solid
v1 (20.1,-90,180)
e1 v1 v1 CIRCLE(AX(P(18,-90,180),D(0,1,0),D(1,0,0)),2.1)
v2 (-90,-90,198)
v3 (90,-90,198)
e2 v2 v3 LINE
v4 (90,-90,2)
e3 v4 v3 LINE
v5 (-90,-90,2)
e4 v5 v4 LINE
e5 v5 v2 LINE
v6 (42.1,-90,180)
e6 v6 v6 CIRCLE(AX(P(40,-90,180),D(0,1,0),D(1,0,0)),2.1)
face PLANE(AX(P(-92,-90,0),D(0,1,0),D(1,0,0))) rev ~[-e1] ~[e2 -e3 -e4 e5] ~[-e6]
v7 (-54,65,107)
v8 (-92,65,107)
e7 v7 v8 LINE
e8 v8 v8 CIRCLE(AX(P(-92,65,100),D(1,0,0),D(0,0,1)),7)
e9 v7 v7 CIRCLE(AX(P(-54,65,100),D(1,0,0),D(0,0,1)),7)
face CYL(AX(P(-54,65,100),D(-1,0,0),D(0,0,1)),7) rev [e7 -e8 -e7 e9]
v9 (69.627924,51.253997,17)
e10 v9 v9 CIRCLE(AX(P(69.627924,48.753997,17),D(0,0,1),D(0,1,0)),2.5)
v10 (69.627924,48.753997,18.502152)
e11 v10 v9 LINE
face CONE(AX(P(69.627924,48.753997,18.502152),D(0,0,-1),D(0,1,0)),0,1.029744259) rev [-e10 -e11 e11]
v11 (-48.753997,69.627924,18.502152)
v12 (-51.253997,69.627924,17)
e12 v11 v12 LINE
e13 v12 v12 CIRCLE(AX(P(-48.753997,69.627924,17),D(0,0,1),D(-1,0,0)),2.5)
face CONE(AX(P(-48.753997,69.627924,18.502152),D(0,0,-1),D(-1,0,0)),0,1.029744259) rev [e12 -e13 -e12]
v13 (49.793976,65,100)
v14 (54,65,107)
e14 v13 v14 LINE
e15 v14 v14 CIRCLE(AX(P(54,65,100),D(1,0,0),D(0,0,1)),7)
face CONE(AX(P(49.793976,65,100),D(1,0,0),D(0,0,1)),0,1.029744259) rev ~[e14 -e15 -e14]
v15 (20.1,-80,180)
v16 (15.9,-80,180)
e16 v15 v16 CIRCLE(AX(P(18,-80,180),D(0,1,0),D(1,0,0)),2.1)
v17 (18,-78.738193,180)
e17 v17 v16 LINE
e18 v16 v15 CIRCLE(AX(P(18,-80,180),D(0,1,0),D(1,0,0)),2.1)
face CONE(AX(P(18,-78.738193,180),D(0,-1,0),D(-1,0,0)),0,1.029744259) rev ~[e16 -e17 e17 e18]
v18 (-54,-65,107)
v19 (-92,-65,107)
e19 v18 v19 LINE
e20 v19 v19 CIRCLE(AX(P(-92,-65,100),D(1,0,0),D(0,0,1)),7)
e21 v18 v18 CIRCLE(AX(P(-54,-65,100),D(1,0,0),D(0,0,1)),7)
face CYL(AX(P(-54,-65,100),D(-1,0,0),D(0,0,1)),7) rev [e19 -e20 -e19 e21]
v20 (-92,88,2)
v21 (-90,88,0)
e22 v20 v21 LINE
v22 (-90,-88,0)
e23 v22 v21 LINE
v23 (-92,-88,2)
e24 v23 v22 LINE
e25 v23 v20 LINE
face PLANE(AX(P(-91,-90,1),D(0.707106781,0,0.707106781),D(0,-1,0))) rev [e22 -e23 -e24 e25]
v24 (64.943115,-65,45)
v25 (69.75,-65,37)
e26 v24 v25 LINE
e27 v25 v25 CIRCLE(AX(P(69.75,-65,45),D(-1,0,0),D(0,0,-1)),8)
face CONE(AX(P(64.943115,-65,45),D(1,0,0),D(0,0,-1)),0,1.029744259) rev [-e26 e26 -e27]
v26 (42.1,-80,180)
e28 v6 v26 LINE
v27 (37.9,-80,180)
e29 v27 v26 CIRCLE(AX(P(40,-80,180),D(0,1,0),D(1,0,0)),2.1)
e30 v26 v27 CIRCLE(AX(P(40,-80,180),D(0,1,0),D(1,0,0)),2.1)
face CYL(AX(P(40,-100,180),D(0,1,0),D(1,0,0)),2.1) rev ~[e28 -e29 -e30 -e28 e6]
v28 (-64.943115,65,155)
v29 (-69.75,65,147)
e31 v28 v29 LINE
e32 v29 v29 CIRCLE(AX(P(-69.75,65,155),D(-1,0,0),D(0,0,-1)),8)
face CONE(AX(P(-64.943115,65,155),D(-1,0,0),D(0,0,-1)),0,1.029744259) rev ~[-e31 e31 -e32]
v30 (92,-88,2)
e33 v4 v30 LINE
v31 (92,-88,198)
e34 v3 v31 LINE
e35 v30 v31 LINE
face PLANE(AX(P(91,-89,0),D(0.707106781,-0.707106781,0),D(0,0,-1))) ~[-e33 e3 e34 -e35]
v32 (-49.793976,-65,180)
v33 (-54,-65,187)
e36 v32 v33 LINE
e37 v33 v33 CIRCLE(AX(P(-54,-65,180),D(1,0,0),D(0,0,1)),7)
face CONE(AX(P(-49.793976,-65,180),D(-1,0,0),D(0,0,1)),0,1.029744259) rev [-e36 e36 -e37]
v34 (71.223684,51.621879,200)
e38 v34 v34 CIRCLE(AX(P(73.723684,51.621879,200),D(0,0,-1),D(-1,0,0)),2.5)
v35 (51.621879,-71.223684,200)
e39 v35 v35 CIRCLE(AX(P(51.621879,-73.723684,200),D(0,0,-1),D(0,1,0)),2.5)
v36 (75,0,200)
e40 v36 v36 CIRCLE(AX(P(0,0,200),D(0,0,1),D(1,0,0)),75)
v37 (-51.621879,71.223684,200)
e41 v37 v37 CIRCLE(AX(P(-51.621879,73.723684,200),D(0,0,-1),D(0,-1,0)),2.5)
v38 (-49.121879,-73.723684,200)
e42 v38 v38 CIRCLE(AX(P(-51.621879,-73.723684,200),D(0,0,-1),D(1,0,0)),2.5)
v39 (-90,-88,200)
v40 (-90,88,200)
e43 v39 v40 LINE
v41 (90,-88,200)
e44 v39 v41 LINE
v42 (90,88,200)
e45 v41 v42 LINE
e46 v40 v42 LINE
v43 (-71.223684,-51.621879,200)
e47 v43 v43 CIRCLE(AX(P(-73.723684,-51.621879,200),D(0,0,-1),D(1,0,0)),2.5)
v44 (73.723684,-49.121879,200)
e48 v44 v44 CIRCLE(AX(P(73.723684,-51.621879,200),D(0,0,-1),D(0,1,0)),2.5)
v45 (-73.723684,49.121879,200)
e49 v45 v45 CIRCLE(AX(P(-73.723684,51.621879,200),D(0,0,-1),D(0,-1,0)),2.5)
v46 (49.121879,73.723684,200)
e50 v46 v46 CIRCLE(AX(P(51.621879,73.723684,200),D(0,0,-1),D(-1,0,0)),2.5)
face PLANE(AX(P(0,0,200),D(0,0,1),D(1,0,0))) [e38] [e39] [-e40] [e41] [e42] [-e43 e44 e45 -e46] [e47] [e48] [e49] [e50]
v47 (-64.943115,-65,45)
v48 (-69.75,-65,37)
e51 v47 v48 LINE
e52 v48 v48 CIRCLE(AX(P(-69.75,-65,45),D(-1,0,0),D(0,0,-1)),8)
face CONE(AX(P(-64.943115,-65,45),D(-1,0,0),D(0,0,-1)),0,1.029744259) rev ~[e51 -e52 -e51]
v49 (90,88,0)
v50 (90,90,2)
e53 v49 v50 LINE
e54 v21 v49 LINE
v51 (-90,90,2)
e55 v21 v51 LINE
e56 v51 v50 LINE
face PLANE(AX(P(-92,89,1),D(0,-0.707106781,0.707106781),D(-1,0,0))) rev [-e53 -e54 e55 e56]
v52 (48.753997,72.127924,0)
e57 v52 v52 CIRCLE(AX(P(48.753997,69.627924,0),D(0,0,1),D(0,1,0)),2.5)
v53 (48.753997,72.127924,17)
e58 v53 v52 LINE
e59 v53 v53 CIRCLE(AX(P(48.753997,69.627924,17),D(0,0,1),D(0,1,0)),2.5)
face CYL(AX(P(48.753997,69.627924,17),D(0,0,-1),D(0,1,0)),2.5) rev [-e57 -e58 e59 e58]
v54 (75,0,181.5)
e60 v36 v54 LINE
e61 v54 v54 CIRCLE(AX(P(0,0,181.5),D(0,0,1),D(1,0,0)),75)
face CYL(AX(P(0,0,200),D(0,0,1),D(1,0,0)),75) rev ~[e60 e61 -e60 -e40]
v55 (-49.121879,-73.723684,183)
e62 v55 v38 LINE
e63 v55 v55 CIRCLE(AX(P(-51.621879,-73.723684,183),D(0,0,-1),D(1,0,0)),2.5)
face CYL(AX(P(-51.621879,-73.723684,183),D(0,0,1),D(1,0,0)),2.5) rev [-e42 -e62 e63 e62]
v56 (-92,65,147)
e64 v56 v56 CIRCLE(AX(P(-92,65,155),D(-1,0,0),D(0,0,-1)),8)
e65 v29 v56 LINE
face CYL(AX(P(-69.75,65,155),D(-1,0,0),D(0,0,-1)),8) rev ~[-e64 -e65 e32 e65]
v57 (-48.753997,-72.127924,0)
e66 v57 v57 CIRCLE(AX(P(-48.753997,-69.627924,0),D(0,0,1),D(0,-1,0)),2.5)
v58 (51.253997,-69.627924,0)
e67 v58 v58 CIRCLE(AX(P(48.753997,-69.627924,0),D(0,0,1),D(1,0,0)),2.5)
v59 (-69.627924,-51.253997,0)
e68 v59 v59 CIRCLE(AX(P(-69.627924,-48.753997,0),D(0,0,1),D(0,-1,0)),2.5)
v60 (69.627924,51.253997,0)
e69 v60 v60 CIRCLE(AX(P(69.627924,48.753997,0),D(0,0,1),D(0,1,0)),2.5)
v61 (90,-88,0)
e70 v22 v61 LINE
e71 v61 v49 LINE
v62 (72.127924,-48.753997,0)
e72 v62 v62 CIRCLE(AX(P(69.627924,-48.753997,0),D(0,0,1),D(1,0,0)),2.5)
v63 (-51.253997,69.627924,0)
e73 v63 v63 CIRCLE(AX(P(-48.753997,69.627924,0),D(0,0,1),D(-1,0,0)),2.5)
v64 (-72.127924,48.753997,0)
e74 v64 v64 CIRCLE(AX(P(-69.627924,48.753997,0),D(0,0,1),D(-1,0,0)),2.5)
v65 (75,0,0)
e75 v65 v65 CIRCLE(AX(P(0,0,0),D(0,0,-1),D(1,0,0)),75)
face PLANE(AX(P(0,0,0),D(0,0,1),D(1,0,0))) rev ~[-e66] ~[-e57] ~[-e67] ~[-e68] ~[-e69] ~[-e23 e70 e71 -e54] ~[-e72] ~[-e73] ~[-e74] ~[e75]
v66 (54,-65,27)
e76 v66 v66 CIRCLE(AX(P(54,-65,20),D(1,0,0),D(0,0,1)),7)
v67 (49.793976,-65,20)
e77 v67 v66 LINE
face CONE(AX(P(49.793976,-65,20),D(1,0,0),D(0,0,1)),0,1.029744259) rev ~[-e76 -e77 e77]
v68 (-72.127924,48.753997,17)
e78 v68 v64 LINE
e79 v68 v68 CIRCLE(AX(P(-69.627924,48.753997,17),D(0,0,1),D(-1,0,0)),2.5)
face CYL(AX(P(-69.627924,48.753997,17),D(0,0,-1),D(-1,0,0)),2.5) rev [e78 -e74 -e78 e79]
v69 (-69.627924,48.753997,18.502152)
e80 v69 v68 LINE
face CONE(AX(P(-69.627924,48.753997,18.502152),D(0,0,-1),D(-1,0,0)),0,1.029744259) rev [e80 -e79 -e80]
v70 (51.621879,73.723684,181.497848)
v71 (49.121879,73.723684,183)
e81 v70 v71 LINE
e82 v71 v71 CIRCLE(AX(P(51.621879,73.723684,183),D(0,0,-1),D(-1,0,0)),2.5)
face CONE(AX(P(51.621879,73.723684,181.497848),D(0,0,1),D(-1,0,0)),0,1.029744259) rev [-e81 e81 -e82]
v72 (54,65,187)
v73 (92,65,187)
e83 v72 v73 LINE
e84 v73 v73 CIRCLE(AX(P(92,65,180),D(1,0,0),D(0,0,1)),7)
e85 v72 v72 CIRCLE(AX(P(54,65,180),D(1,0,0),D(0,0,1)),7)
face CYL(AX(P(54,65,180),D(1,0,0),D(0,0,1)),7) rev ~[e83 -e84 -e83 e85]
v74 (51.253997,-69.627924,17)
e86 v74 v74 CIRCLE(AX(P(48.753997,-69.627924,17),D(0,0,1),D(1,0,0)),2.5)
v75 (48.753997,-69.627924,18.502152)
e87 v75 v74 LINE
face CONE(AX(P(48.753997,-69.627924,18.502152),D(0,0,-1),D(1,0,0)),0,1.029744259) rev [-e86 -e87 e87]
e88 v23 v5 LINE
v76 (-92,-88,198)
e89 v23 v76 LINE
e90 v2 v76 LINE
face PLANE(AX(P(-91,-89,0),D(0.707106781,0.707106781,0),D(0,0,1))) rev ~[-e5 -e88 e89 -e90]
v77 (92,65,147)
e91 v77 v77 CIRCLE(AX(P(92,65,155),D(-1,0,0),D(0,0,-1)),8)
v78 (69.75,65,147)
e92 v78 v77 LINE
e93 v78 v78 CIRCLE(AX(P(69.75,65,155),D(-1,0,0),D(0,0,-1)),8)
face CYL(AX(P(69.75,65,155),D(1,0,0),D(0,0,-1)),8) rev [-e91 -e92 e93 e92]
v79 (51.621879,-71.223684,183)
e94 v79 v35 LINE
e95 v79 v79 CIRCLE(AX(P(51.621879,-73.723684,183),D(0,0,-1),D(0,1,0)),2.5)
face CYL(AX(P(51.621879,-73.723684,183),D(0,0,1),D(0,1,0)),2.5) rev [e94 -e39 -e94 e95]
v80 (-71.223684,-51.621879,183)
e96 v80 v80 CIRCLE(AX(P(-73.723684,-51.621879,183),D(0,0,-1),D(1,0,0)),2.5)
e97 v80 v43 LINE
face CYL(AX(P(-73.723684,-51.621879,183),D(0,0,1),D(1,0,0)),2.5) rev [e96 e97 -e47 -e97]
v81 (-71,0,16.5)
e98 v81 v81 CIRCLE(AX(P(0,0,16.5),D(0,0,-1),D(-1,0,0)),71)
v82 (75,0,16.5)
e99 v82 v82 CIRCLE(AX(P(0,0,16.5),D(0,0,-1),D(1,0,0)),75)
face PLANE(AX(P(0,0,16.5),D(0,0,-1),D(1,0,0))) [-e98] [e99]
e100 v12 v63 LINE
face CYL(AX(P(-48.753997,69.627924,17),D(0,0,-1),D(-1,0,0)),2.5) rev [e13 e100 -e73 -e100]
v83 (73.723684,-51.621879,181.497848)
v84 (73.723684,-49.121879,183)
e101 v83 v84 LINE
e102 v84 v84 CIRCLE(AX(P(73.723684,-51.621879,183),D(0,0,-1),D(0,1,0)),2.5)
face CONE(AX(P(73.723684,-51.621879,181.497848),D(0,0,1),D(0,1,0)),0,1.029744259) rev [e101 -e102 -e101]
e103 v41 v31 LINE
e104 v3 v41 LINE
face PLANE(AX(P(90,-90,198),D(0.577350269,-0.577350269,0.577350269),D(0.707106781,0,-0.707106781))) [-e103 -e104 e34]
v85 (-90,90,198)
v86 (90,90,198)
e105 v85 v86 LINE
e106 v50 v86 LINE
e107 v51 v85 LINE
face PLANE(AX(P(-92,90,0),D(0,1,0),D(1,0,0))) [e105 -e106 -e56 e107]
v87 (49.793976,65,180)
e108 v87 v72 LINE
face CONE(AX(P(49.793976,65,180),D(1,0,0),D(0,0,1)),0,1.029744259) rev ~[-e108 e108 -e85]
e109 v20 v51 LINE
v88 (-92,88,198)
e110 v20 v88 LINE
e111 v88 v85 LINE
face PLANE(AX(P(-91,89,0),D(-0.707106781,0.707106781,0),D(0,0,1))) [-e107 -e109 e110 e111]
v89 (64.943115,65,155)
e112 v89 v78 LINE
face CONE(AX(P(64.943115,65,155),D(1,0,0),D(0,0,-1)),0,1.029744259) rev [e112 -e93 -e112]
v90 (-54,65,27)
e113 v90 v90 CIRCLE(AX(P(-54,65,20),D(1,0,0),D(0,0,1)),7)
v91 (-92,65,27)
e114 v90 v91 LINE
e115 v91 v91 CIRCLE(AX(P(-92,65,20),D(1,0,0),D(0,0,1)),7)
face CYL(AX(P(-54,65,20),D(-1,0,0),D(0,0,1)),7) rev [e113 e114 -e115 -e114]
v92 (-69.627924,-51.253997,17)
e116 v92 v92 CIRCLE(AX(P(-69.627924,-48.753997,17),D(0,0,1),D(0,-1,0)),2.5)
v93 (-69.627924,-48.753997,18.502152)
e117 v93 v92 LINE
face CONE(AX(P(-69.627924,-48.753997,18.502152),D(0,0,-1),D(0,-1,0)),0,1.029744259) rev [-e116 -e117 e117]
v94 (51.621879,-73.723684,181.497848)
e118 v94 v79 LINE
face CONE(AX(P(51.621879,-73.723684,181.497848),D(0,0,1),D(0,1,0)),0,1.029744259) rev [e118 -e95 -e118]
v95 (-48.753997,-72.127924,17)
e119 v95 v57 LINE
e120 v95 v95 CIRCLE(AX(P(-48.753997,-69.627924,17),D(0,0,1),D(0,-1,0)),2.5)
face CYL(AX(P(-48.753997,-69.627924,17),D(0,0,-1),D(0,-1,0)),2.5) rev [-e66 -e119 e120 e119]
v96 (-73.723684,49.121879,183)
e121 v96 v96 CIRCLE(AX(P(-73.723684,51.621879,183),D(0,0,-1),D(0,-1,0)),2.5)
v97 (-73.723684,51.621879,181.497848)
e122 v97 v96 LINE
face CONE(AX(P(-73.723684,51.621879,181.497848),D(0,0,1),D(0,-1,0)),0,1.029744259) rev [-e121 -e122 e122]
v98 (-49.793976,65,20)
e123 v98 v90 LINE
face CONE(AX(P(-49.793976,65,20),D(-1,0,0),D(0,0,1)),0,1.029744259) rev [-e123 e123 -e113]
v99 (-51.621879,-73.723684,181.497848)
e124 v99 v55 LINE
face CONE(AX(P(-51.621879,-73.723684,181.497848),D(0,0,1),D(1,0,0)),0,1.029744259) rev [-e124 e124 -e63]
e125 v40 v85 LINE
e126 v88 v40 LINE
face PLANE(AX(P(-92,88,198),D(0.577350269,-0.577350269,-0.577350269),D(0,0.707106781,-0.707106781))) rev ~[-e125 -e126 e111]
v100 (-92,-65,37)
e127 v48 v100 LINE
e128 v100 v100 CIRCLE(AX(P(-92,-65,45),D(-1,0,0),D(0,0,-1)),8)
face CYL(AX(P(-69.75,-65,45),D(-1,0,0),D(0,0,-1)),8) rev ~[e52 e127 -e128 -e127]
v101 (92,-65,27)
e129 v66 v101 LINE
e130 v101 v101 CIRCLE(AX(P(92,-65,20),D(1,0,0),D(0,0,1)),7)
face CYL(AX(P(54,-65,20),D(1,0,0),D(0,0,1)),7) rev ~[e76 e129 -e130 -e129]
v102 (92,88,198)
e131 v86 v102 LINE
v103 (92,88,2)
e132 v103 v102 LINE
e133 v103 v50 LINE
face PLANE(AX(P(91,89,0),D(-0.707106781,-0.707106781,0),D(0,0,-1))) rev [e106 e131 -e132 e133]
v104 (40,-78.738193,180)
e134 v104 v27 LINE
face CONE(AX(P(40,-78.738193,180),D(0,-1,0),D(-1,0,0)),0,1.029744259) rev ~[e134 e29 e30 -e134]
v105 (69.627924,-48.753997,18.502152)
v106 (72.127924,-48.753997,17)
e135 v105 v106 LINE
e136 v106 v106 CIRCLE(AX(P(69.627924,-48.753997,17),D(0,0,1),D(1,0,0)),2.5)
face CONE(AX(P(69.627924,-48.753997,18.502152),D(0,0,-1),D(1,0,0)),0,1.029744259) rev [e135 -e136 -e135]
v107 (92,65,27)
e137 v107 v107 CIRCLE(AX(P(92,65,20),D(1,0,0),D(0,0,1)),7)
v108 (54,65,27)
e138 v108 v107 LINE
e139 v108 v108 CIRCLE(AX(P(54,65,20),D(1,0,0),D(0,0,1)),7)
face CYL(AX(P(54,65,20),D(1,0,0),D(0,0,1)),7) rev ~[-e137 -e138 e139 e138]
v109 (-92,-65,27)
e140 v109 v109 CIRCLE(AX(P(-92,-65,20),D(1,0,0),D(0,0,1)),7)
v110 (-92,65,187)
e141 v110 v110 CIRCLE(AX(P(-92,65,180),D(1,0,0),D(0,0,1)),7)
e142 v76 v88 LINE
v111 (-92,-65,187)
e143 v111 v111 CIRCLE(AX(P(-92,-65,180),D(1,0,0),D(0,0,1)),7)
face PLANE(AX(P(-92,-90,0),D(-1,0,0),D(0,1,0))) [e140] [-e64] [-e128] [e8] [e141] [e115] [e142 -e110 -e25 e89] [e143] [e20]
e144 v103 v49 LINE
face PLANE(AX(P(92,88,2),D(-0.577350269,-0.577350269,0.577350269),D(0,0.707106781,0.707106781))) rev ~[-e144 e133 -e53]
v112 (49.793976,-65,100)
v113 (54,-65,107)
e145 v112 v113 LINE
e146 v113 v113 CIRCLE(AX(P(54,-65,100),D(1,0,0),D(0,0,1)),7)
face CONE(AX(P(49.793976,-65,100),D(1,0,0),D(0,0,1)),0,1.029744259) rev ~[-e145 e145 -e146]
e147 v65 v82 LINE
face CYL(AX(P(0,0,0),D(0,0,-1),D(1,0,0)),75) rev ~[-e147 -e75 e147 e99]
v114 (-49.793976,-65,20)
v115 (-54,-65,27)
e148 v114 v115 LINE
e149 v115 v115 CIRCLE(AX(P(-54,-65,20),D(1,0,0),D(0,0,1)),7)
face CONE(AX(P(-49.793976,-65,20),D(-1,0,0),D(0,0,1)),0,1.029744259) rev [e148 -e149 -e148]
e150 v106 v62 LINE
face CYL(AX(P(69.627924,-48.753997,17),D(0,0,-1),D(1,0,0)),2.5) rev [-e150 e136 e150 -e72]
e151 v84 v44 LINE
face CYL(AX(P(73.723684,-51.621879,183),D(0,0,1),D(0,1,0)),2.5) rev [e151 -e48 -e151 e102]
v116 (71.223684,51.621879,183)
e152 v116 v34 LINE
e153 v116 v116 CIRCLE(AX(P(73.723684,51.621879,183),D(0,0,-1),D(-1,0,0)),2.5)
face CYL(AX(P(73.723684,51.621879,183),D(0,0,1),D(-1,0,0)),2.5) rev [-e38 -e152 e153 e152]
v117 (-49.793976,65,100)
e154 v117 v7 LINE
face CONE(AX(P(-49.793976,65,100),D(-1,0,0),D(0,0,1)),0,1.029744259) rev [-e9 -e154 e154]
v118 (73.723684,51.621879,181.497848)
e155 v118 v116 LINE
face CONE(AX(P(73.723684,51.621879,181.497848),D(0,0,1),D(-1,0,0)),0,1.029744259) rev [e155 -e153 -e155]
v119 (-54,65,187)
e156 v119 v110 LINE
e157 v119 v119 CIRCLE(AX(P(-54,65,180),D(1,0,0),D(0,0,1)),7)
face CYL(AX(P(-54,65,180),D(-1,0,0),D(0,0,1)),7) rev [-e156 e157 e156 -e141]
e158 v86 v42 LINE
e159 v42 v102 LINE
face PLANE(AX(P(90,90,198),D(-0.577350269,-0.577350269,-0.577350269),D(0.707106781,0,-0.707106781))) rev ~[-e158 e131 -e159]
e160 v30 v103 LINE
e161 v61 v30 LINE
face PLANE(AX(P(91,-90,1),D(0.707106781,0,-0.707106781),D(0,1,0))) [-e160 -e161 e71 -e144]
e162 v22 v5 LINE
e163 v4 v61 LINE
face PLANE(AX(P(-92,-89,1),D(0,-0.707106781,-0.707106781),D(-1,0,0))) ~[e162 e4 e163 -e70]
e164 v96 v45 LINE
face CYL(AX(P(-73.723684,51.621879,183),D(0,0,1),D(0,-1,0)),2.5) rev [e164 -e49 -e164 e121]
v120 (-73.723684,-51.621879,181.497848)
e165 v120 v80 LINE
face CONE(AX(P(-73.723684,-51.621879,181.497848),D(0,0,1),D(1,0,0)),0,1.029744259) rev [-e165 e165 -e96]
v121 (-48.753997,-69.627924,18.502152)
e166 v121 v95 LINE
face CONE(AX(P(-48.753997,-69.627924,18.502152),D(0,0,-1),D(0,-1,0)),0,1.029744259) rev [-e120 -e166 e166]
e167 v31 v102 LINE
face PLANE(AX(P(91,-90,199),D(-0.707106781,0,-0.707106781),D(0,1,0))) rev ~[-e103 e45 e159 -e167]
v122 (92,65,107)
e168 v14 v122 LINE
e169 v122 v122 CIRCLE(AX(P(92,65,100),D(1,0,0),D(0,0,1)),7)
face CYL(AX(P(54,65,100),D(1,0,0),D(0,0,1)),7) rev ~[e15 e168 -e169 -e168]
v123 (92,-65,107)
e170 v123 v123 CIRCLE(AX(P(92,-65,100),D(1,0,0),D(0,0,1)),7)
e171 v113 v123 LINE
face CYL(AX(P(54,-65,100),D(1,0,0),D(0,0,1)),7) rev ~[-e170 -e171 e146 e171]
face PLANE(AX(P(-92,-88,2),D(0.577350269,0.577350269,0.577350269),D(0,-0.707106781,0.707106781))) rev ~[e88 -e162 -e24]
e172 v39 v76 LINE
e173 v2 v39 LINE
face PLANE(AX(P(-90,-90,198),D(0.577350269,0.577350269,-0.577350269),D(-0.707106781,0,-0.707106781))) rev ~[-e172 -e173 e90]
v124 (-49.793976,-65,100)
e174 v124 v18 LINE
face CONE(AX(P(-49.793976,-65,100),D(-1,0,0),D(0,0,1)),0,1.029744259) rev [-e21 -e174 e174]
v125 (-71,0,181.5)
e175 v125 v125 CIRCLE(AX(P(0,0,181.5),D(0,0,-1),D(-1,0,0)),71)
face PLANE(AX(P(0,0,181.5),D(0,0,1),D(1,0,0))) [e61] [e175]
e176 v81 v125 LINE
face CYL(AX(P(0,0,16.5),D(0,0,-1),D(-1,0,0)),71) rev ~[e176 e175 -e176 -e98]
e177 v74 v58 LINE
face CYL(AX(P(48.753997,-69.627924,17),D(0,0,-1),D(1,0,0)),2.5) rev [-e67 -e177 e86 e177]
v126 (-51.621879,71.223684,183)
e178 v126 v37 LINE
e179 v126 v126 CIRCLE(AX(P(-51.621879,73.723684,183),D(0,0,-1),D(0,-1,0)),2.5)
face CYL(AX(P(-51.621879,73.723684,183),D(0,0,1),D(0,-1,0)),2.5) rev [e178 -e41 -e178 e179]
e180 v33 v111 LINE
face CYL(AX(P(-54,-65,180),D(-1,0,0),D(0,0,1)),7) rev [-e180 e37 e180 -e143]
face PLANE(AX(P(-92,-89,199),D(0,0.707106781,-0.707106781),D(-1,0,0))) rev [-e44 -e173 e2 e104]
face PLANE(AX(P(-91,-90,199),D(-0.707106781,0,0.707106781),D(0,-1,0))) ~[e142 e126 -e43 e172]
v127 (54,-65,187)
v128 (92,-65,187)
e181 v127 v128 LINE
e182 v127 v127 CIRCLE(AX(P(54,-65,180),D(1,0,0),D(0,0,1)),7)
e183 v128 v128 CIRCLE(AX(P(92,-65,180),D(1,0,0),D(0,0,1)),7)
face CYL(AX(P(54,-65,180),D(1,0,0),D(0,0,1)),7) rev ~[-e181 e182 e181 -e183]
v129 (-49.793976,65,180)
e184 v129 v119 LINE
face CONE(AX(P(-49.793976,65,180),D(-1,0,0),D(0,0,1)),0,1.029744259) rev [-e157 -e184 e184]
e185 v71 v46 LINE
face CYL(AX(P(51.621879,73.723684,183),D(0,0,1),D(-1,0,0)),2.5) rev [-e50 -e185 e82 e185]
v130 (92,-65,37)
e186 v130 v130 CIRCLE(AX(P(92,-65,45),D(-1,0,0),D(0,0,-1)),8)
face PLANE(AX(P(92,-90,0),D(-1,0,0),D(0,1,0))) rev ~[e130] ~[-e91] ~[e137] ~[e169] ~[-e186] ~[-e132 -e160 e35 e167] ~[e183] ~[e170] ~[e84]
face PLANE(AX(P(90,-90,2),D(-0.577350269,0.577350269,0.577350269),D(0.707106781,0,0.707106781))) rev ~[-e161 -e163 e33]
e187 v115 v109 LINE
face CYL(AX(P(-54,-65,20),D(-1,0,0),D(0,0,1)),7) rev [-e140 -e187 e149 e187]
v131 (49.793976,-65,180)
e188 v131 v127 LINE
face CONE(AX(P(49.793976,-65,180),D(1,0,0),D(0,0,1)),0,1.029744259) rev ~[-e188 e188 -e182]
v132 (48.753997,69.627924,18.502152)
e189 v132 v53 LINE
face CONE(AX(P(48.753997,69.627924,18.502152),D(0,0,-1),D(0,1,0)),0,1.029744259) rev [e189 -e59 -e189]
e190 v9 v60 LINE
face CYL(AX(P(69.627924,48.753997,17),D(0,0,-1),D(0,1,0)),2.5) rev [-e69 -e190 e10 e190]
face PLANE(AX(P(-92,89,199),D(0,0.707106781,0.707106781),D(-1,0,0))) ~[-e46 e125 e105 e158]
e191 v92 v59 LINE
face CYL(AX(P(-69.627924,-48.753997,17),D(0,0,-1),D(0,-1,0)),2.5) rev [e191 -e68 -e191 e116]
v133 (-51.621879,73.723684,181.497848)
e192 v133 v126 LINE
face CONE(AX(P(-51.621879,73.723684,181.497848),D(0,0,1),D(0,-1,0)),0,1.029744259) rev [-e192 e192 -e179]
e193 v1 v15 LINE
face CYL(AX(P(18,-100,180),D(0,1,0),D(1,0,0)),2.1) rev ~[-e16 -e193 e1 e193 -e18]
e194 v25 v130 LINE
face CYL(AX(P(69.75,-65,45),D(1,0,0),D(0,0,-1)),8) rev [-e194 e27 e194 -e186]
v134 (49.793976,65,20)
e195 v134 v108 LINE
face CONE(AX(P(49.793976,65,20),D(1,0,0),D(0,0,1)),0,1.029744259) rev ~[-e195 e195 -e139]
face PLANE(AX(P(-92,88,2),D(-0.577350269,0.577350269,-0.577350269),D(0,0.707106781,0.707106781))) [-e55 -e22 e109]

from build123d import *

# Parameters (mm, degrees)
SKIZZE1_W                                 = 184
SKIZZE1_H                                 = 180
EXTRUSION1_DEPTH                          = 200
SKIZZE2_R                                 = 75
EXTRUSION2_DEPTH                          = 18.5
SKIZZE3_R                                 = 75
EXTRUSION3_DEPTH                          = 16.5
M6_GEWINDEBOHRUNG1_AT_2_COUNT             = 2
M6_GEWINDEBOHRUNG1_AT_2_PITCH             = 29.520190203
SKIZZE6_R                                 = 71
EXTRUSION4_DEPTH                          = 180
FASE1_SIZE                                = 2
LINEARES_MUSTER111_COUNT                  = 3
LINEARES_MUSTER111_PITCH                  = 80
LINEARES_MUSTER111_COUNT_DIR2             = 2
LINEARES_MUSTER111_PITCH_DIR2             = 130
KREISMUSTER1_COUNT                        = 4
M6_GEWINDEBOHRUNG2_AT_2_COUNT             = 2
M6_GEWINDEBOHRUNG2_AT_2_PITCH             = 31.25667198
KREISMUSTER2_COUNT                        = 4
F_16_0_16_DURCHMESSER_BOHRUNG1_AT_2_COUNT = 2
F_16_0_16_DURCHMESSER_BOHRUNG1_AT_2_PITCH = 170.293863659
M5_GEWINDEBOHRUNG1_D                      = 4.2
M5_GEWINDEBOHRUNG1_DEPTH                  = 10
M5_GEWINDEBOHRUNG1_TIP                    = 1.2618073


with BuildPart() as part:
    # Skizze1 → Extrusion1 (new body)
    with BuildSketch(Plane.XY):
        Rectangle(SKIZZE1_W, SKIZZE1_H)
    extrude(amount=EXTRUSION1_DEPTH)

    # Skizze2 → Extrusion2 (cut)
    with BuildSketch(Plane.XY.offset(200)):
        Circle(SKIZZE2_R)
    extrude(amount=-EXTRUSION2_DEPTH, mode=Mode.SUBTRACT)

    # Skizze3 → Extrusion3 (cut)
    with BuildSketch(Plane(origin=(0, 0, 0), x_dir=(-1, 0, 0), z_dir=(0, 0, -1))):
        with Locations(Location((0, 0, 0), (0, 0, 180))):  # turned: the seam where the file's is
            Circle(SKIZZE3_R)
    extrude(amount=-EXTRUSION3_DEPTH, mode=Mode.SUBTRACT)

    # Skizze10 → M6 Gewindebohrung1 (revolve, cut)
    with BuildSketch(Plane(origin=(69.627923765, 48.75399709, 0), x_dir=(0, 1, 0), z_dir=(1, 0, 0))):
        Polygon((0, 0), (0, 18.502151548), (2.5, 17), (2.5, 0), align=None)
    m6_gewindebohrung1 = revolve(axis=Axis((69.627923765, 48.75399709, -6.35), (0, 0, 1)), mode=Mode.SUBTRACT)

    # M6 Gewindebohrung1 at 2: M6 Gewindebohrung1 ×2
    with Locations(*[Vector(-0.707106781, 0.707106781, 0) * (i * M6_GEWINDEBOHRUNG1_AT_2_PITCH) for i in range(1, M6_GEWINDEBOHRUNG1_AT_2_COUNT)]):
        add(m6_gewindebohrung1, mode=Mode.SUBTRACT)

    # Skizze6 → Extrusion4 (cut)
    with BuildSketch(Plane(origin=(0, 0, 16.5), x_dir=(-1, 0, 0), z_dir=(0, 0, -1))):
        Circle(SKIZZE6_R)
    extrude(amount=-EXTRUSION4_DEPTH, mode=Mode.SUBTRACT)

    # Fase1
    fase1_edges = [part.edges().sort_by_distance(p)[0] for p in [
        (92, 0, 200),
        (0, 90, 200),
        (-92, 0, 200),
        (0, 90, 0),
        (92, 0, 0),
        (0, -90, 0),
        (-92, 0, 0),
        (0, -90, 200),
        (-92, 90, 100),
        (92, 90, 100),
        (92, -90, 100),
        (-92, -90, 100),
    ]]
    chamfer(fase1_edges, length=FASE1_SIZE)

    # Skizze14 → M16 Gewindebohrung3 (revolve, cut)
    with BuildSketch(Plane(origin=(-92, 65, 180), x_dir=(0, 0, 1), z_dir=(0, 1, 0))):
        Polygon((0, 0), (0, 42.206024333), (7, 38), (7, 0), align=None)
    m16_gewindebohrung3 = revolve(axis=Axis((-98.35, 65, 180), (1, 0, 0)), mode=Mode.SUBTRACT)

    # Lineares Muster111: M16 Gewindebohrung3 3 × 2
    with Locations(*[(0, -j * LINEARES_MUSTER111_PITCH_DIR2, -i * LINEARES_MUSTER111_PITCH) for i in range(LINEARES_MUSTER111_COUNT) for j in range(LINEARES_MUSTER111_COUNT_DIR2) if (i, j) != (0, 0)]):
        add(m16_gewindebohrung3, mode=Mode.SUBTRACT)

    # Spiegeln3: M16 Gewindebohrung3 across plane
    add(m16_gewindebohrung3.mirror(Plane(origin=(0, 0, 0), x_dir=(0, 0, 1), z_dir=(1, 0, 0))), mode=Mode.SUBTRACT)

    # Spiegeln3 copy 1 sketch → Spiegeln3 copy 1 (revolve, cut)
    with BuildSketch(Plane(origin=(92, -65, 180), x_dir=(0, 0, 1), z_dir=(0, 1, 0))):
        Polygon((0, 0), (0, -42.206024333), (7, -38), (7, 0), align=None)
    revolve(axis=Axis((98.35, -65, 180), (1, 0, 0)), mode=Mode.SUBTRACT)

    # Spiegeln3 copy 2 sketch → Spiegeln3 copy 2 (revolve, cut)
    with BuildSketch(Plane(origin=(92, 65, 100), x_dir=(0, 0, 1), z_dir=(0, 1, 0))):
        Polygon((0, 0), (0, -42.206024333), (7, -38), (7, 0), align=None)
    revolve(axis=Axis((98.35, 65, 100), (1, 0, 0)), mode=Mode.SUBTRACT)

    # Spiegeln3 copy 3 sketch → Spiegeln3 copy 3 (revolve, cut)
    with BuildSketch(Plane(origin=(92, -65, 100), x_dir=(0, 0, 1), z_dir=(0, 1, 0))):
        Polygon((0, 0), (0, -42.206024333), (7, -38), (7, 0), align=None)
    revolve(axis=Axis((98.35, -65, 100), (1, 0, 0)), mode=Mode.SUBTRACT)

    # Spiegeln3 copy 4 sketch → Spiegeln3 copy 4 (revolve, cut)
    with BuildSketch(Plane(origin=(92, 65, 20), x_dir=(0, 0, 1), z_dir=(0, 1, 0))):
        Polygon((0, 0), (0, -42.206024333), (7, -38), (7, 0), align=None)
    revolve(axis=Axis((98.35, 65, 20), (1, 0, 0)), mode=Mode.SUBTRACT)

    # Spiegeln3 copy 5 sketch → Spiegeln3 copy 5 (revolve, cut)
    with BuildSketch(Plane(origin=(92, -65, 20), x_dir=(0, 0, 1), z_dir=(0, 1, 0))):
        Polygon((0, 0), (0, -42.206024333), (7, -38), (7, 0), align=None)
    revolve(axis=Axis((98.35, -65, 20), (1, 0, 0)), mode=Mode.SUBTRACT)

    # Kreismuster1: M6 Gewindebohrung1 ×4 about axis
    kreismuster1_axis = Axis((0, 0, 0), (0, 0, 1))
    for i in range(1, KREISMUSTER1_COUNT):
        add(m6_gewindebohrung1.rotate(kreismuster1_axis, i * 360 / KREISMUSTER1_COUNT), mode=Mode.SUBTRACT)

    # Kreismuster1 copy 1 sketch → Kreismuster1 copy 1 (revolve, cut)
    with BuildSketch(Plane(origin=(-69.627923765, 48.75399709, 0), x_dir=(-1, 0, 0), z_dir=(0, 1, 0))):
        Polygon((0, 0), (0, 18.502151548), (2.5, 17), (2.5, 0), align=None)
    revolve(axis=Axis((-69.627923765, 48.75399709, -6.35), (0, 0, 1)), mode=Mode.SUBTRACT)

    # Kreismuster1 copy 2 sketch → Kreismuster1 copy 2 (revolve, cut)
    with BuildSketch(Plane(origin=(-48.75399709, -69.627923765, 0), x_dir=(0, -1, 0), z_dir=(-1, 0, 0))):
        Polygon((0, 0), (0, 18.502151548), (2.5, 17), (2.5, 0), align=None)
    revolve(axis=Axis((-48.75399709, -69.627923765, -6.35), (0, 0, 1)), mode=Mode.SUBTRACT)

    # Kreismuster1 copy 3 sketch → Kreismuster1 copy 3 (revolve, cut)
    with BuildSketch(Plane(origin=(69.627923765, -48.75399709, 0), x_dir=(1, 0, 0), z_dir=(0, -1, 0))):
        Polygon((0, 0), (0, 18.502151548), (2.5, 17), (2.5, 0), align=None)
    revolve(axis=Axis((69.627923765, -48.75399709, -6.35), (0, 0, 1)), mode=Mode.SUBTRACT)

    # Skizze16 → M6 Gewindebohrung2 (revolve, cut)
    with BuildSketch(Plane(origin=(-73.723683986, 51.621879272, 200), x_dir=(0, -1, 0), z_dir=(1, 0, 0))):
        Polygon((0, 0), (0, 18.502151548), (2.5, 17), (2.5, 0), align=None)
    m6_gewindebohrung2 = revolve(axis=Axis((-73.723683986, 51.621879272, 206.35), (0, 0, -1)), mode=Mode.SUBTRACT)

    # M6 Gewindebohrung2 at 2: M6 Gewindebohrung2 ×2
    with Locations(*[Vector(0.707106781, 0.707106781, 0) * (i * M6_GEWINDEBOHRUNG2_AT_2_PITCH) for i in range(1, M6_GEWINDEBOHRUNG2_AT_2_COUNT)]):
        add(m6_gewindebohrung2, mode=Mode.SUBTRACT)

    # Kreismuster2: M6 Gewindebohrung2 ×4 about axis
    kreismuster2_axis = Axis((0, 0, 0), (0, 0, 1))
    for i in range(1, KREISMUSTER2_COUNT):
        add(m6_gewindebohrung2.rotate(kreismuster2_axis, i * 360 / KREISMUSTER2_COUNT), mode=Mode.SUBTRACT)

    # Kreismuster2 copy 1 sketch → Kreismuster2 copy 1 (revolve, cut)
    with BuildSketch(Plane(origin=(-73.723683986, -51.621879272, 200), x_dir=(1, 0, 0), z_dir=(0, 1, 0))):
        Polygon((0, 0), (0, 18.502151548), (2.5, 17), (2.5, 0), align=None)
    revolve(axis=Axis((-73.723683986, -51.621879272, 206.35), (0, 0, -1)), mode=Mode.SUBTRACT)

    # Kreismuster2 copy 2 sketch → Kreismuster2 copy 2 (revolve, cut)
    with BuildSketch(Plane(origin=(51.621879272, -73.723683986, 200), x_dir=(0, 1, 0), z_dir=(-1, 0, 0))):
        Polygon((0, 0), (0, 18.502151548), (2.5, 17), (2.5, 0), align=None)
    revolve(axis=Axis((51.621879272, -73.723683986, 206.35), (0, 0, -1)), mode=Mode.SUBTRACT)

    # Kreismuster2 copy 3 sketch → Kreismuster2 copy 3 (revolve, cut)
    with BuildSketch(Plane(origin=(73.723683986, 51.621879272, 200), x_dir=(-1, 0, 0), z_dir=(0, -1, 0))):
        Polygon((0, 0), (0, 18.502151548), (2.5, 17), (2.5, 0), align=None)
    revolve(axis=Axis((73.723683986, 51.621879272, 206.35), (0, 0, -1)), mode=Mode.SUBTRACT)

    # Skizze18 → Ø16.0 (16) Durchmesser Bohrung1 (revolve, cut)
    with BuildSketch(Plane(origin=(92, 65, 155), x_dir=(0, 0, -1), z_dir=(0, 1, 0))):
        Polygon((0, 0), (0, 27.056884952), (8, 22.25), (8, 0), align=None)
    f_16_0_16_durchmesser_bohrung1 = revolve(axis=Axis((98.35, 65, 155), (-1, 0, 0)), mode=Mode.SUBTRACT)

    # Ø16.0 (16) Durchmesser Bohrung1 at 2: Ø16.0 (16) Durchmesser Bohrung1 ×2
    with Locations(*[Vector(0, -0.763386285, -0.645942241) * (i * F_16_0_16_DURCHMESSER_BOHRUNG1_AT_2_PITCH) for i in range(1, F_16_0_16_DURCHMESSER_BOHRUNG1_AT_2_COUNT)]):
        add(f_16_0_16_durchmesser_bohrung1, mode=Mode.SUBTRACT)

    # Spiegeln4: Ø16.0 (16) Durchmesser Bohrung1 across plane
    add(f_16_0_16_durchmesser_bohrung1.mirror(Plane(origin=(0, 0, 0), x_dir=(0, 0, 1), z_dir=(1, 0, 0))), mode=Mode.SUBTRACT)

    # Spiegeln4 copy 1 sketch → Spiegeln4 copy 1 (revolve, cut)
    with BuildSketch(Plane(origin=(-92, -65, 45), x_dir=(0, 0, -1), z_dir=(0, 1, 0))):
        Polygon((0, 0), (0, -27.056884952), (8, -22.25), (8, 0), align=None)
    revolve(axis=Axis((-98.35, -65, 45), (-1, 0, 0)), mode=Mode.SUBTRACT)

    # M5 Gewindebohrung1
    with Locations(Plane(origin=(0, -90, 0), x_dir=(-1, 0, 0), z_dir=(0, -1, 0))):
        with Locations((-40, -180), (-18, -180)):
            Hole(M5_GEWINDEBOHRUNG1_D / 2, depth=M5_GEWINDEBOHRUNG1_DEPTH)
            with Locations((0, 0, -(M5_GEWINDEBOHRUNG1_DEPTH + M5_GEWINDEBOHRUNG1_TIP / 2))):  # 118° drill point
                Cone(0, M5_GEWINDEBOHRUNG1_D / 2, M5_GEWINDEBOHRUNG1_TIP, mode=Mode.SUBTRACT)


solid = part.part
